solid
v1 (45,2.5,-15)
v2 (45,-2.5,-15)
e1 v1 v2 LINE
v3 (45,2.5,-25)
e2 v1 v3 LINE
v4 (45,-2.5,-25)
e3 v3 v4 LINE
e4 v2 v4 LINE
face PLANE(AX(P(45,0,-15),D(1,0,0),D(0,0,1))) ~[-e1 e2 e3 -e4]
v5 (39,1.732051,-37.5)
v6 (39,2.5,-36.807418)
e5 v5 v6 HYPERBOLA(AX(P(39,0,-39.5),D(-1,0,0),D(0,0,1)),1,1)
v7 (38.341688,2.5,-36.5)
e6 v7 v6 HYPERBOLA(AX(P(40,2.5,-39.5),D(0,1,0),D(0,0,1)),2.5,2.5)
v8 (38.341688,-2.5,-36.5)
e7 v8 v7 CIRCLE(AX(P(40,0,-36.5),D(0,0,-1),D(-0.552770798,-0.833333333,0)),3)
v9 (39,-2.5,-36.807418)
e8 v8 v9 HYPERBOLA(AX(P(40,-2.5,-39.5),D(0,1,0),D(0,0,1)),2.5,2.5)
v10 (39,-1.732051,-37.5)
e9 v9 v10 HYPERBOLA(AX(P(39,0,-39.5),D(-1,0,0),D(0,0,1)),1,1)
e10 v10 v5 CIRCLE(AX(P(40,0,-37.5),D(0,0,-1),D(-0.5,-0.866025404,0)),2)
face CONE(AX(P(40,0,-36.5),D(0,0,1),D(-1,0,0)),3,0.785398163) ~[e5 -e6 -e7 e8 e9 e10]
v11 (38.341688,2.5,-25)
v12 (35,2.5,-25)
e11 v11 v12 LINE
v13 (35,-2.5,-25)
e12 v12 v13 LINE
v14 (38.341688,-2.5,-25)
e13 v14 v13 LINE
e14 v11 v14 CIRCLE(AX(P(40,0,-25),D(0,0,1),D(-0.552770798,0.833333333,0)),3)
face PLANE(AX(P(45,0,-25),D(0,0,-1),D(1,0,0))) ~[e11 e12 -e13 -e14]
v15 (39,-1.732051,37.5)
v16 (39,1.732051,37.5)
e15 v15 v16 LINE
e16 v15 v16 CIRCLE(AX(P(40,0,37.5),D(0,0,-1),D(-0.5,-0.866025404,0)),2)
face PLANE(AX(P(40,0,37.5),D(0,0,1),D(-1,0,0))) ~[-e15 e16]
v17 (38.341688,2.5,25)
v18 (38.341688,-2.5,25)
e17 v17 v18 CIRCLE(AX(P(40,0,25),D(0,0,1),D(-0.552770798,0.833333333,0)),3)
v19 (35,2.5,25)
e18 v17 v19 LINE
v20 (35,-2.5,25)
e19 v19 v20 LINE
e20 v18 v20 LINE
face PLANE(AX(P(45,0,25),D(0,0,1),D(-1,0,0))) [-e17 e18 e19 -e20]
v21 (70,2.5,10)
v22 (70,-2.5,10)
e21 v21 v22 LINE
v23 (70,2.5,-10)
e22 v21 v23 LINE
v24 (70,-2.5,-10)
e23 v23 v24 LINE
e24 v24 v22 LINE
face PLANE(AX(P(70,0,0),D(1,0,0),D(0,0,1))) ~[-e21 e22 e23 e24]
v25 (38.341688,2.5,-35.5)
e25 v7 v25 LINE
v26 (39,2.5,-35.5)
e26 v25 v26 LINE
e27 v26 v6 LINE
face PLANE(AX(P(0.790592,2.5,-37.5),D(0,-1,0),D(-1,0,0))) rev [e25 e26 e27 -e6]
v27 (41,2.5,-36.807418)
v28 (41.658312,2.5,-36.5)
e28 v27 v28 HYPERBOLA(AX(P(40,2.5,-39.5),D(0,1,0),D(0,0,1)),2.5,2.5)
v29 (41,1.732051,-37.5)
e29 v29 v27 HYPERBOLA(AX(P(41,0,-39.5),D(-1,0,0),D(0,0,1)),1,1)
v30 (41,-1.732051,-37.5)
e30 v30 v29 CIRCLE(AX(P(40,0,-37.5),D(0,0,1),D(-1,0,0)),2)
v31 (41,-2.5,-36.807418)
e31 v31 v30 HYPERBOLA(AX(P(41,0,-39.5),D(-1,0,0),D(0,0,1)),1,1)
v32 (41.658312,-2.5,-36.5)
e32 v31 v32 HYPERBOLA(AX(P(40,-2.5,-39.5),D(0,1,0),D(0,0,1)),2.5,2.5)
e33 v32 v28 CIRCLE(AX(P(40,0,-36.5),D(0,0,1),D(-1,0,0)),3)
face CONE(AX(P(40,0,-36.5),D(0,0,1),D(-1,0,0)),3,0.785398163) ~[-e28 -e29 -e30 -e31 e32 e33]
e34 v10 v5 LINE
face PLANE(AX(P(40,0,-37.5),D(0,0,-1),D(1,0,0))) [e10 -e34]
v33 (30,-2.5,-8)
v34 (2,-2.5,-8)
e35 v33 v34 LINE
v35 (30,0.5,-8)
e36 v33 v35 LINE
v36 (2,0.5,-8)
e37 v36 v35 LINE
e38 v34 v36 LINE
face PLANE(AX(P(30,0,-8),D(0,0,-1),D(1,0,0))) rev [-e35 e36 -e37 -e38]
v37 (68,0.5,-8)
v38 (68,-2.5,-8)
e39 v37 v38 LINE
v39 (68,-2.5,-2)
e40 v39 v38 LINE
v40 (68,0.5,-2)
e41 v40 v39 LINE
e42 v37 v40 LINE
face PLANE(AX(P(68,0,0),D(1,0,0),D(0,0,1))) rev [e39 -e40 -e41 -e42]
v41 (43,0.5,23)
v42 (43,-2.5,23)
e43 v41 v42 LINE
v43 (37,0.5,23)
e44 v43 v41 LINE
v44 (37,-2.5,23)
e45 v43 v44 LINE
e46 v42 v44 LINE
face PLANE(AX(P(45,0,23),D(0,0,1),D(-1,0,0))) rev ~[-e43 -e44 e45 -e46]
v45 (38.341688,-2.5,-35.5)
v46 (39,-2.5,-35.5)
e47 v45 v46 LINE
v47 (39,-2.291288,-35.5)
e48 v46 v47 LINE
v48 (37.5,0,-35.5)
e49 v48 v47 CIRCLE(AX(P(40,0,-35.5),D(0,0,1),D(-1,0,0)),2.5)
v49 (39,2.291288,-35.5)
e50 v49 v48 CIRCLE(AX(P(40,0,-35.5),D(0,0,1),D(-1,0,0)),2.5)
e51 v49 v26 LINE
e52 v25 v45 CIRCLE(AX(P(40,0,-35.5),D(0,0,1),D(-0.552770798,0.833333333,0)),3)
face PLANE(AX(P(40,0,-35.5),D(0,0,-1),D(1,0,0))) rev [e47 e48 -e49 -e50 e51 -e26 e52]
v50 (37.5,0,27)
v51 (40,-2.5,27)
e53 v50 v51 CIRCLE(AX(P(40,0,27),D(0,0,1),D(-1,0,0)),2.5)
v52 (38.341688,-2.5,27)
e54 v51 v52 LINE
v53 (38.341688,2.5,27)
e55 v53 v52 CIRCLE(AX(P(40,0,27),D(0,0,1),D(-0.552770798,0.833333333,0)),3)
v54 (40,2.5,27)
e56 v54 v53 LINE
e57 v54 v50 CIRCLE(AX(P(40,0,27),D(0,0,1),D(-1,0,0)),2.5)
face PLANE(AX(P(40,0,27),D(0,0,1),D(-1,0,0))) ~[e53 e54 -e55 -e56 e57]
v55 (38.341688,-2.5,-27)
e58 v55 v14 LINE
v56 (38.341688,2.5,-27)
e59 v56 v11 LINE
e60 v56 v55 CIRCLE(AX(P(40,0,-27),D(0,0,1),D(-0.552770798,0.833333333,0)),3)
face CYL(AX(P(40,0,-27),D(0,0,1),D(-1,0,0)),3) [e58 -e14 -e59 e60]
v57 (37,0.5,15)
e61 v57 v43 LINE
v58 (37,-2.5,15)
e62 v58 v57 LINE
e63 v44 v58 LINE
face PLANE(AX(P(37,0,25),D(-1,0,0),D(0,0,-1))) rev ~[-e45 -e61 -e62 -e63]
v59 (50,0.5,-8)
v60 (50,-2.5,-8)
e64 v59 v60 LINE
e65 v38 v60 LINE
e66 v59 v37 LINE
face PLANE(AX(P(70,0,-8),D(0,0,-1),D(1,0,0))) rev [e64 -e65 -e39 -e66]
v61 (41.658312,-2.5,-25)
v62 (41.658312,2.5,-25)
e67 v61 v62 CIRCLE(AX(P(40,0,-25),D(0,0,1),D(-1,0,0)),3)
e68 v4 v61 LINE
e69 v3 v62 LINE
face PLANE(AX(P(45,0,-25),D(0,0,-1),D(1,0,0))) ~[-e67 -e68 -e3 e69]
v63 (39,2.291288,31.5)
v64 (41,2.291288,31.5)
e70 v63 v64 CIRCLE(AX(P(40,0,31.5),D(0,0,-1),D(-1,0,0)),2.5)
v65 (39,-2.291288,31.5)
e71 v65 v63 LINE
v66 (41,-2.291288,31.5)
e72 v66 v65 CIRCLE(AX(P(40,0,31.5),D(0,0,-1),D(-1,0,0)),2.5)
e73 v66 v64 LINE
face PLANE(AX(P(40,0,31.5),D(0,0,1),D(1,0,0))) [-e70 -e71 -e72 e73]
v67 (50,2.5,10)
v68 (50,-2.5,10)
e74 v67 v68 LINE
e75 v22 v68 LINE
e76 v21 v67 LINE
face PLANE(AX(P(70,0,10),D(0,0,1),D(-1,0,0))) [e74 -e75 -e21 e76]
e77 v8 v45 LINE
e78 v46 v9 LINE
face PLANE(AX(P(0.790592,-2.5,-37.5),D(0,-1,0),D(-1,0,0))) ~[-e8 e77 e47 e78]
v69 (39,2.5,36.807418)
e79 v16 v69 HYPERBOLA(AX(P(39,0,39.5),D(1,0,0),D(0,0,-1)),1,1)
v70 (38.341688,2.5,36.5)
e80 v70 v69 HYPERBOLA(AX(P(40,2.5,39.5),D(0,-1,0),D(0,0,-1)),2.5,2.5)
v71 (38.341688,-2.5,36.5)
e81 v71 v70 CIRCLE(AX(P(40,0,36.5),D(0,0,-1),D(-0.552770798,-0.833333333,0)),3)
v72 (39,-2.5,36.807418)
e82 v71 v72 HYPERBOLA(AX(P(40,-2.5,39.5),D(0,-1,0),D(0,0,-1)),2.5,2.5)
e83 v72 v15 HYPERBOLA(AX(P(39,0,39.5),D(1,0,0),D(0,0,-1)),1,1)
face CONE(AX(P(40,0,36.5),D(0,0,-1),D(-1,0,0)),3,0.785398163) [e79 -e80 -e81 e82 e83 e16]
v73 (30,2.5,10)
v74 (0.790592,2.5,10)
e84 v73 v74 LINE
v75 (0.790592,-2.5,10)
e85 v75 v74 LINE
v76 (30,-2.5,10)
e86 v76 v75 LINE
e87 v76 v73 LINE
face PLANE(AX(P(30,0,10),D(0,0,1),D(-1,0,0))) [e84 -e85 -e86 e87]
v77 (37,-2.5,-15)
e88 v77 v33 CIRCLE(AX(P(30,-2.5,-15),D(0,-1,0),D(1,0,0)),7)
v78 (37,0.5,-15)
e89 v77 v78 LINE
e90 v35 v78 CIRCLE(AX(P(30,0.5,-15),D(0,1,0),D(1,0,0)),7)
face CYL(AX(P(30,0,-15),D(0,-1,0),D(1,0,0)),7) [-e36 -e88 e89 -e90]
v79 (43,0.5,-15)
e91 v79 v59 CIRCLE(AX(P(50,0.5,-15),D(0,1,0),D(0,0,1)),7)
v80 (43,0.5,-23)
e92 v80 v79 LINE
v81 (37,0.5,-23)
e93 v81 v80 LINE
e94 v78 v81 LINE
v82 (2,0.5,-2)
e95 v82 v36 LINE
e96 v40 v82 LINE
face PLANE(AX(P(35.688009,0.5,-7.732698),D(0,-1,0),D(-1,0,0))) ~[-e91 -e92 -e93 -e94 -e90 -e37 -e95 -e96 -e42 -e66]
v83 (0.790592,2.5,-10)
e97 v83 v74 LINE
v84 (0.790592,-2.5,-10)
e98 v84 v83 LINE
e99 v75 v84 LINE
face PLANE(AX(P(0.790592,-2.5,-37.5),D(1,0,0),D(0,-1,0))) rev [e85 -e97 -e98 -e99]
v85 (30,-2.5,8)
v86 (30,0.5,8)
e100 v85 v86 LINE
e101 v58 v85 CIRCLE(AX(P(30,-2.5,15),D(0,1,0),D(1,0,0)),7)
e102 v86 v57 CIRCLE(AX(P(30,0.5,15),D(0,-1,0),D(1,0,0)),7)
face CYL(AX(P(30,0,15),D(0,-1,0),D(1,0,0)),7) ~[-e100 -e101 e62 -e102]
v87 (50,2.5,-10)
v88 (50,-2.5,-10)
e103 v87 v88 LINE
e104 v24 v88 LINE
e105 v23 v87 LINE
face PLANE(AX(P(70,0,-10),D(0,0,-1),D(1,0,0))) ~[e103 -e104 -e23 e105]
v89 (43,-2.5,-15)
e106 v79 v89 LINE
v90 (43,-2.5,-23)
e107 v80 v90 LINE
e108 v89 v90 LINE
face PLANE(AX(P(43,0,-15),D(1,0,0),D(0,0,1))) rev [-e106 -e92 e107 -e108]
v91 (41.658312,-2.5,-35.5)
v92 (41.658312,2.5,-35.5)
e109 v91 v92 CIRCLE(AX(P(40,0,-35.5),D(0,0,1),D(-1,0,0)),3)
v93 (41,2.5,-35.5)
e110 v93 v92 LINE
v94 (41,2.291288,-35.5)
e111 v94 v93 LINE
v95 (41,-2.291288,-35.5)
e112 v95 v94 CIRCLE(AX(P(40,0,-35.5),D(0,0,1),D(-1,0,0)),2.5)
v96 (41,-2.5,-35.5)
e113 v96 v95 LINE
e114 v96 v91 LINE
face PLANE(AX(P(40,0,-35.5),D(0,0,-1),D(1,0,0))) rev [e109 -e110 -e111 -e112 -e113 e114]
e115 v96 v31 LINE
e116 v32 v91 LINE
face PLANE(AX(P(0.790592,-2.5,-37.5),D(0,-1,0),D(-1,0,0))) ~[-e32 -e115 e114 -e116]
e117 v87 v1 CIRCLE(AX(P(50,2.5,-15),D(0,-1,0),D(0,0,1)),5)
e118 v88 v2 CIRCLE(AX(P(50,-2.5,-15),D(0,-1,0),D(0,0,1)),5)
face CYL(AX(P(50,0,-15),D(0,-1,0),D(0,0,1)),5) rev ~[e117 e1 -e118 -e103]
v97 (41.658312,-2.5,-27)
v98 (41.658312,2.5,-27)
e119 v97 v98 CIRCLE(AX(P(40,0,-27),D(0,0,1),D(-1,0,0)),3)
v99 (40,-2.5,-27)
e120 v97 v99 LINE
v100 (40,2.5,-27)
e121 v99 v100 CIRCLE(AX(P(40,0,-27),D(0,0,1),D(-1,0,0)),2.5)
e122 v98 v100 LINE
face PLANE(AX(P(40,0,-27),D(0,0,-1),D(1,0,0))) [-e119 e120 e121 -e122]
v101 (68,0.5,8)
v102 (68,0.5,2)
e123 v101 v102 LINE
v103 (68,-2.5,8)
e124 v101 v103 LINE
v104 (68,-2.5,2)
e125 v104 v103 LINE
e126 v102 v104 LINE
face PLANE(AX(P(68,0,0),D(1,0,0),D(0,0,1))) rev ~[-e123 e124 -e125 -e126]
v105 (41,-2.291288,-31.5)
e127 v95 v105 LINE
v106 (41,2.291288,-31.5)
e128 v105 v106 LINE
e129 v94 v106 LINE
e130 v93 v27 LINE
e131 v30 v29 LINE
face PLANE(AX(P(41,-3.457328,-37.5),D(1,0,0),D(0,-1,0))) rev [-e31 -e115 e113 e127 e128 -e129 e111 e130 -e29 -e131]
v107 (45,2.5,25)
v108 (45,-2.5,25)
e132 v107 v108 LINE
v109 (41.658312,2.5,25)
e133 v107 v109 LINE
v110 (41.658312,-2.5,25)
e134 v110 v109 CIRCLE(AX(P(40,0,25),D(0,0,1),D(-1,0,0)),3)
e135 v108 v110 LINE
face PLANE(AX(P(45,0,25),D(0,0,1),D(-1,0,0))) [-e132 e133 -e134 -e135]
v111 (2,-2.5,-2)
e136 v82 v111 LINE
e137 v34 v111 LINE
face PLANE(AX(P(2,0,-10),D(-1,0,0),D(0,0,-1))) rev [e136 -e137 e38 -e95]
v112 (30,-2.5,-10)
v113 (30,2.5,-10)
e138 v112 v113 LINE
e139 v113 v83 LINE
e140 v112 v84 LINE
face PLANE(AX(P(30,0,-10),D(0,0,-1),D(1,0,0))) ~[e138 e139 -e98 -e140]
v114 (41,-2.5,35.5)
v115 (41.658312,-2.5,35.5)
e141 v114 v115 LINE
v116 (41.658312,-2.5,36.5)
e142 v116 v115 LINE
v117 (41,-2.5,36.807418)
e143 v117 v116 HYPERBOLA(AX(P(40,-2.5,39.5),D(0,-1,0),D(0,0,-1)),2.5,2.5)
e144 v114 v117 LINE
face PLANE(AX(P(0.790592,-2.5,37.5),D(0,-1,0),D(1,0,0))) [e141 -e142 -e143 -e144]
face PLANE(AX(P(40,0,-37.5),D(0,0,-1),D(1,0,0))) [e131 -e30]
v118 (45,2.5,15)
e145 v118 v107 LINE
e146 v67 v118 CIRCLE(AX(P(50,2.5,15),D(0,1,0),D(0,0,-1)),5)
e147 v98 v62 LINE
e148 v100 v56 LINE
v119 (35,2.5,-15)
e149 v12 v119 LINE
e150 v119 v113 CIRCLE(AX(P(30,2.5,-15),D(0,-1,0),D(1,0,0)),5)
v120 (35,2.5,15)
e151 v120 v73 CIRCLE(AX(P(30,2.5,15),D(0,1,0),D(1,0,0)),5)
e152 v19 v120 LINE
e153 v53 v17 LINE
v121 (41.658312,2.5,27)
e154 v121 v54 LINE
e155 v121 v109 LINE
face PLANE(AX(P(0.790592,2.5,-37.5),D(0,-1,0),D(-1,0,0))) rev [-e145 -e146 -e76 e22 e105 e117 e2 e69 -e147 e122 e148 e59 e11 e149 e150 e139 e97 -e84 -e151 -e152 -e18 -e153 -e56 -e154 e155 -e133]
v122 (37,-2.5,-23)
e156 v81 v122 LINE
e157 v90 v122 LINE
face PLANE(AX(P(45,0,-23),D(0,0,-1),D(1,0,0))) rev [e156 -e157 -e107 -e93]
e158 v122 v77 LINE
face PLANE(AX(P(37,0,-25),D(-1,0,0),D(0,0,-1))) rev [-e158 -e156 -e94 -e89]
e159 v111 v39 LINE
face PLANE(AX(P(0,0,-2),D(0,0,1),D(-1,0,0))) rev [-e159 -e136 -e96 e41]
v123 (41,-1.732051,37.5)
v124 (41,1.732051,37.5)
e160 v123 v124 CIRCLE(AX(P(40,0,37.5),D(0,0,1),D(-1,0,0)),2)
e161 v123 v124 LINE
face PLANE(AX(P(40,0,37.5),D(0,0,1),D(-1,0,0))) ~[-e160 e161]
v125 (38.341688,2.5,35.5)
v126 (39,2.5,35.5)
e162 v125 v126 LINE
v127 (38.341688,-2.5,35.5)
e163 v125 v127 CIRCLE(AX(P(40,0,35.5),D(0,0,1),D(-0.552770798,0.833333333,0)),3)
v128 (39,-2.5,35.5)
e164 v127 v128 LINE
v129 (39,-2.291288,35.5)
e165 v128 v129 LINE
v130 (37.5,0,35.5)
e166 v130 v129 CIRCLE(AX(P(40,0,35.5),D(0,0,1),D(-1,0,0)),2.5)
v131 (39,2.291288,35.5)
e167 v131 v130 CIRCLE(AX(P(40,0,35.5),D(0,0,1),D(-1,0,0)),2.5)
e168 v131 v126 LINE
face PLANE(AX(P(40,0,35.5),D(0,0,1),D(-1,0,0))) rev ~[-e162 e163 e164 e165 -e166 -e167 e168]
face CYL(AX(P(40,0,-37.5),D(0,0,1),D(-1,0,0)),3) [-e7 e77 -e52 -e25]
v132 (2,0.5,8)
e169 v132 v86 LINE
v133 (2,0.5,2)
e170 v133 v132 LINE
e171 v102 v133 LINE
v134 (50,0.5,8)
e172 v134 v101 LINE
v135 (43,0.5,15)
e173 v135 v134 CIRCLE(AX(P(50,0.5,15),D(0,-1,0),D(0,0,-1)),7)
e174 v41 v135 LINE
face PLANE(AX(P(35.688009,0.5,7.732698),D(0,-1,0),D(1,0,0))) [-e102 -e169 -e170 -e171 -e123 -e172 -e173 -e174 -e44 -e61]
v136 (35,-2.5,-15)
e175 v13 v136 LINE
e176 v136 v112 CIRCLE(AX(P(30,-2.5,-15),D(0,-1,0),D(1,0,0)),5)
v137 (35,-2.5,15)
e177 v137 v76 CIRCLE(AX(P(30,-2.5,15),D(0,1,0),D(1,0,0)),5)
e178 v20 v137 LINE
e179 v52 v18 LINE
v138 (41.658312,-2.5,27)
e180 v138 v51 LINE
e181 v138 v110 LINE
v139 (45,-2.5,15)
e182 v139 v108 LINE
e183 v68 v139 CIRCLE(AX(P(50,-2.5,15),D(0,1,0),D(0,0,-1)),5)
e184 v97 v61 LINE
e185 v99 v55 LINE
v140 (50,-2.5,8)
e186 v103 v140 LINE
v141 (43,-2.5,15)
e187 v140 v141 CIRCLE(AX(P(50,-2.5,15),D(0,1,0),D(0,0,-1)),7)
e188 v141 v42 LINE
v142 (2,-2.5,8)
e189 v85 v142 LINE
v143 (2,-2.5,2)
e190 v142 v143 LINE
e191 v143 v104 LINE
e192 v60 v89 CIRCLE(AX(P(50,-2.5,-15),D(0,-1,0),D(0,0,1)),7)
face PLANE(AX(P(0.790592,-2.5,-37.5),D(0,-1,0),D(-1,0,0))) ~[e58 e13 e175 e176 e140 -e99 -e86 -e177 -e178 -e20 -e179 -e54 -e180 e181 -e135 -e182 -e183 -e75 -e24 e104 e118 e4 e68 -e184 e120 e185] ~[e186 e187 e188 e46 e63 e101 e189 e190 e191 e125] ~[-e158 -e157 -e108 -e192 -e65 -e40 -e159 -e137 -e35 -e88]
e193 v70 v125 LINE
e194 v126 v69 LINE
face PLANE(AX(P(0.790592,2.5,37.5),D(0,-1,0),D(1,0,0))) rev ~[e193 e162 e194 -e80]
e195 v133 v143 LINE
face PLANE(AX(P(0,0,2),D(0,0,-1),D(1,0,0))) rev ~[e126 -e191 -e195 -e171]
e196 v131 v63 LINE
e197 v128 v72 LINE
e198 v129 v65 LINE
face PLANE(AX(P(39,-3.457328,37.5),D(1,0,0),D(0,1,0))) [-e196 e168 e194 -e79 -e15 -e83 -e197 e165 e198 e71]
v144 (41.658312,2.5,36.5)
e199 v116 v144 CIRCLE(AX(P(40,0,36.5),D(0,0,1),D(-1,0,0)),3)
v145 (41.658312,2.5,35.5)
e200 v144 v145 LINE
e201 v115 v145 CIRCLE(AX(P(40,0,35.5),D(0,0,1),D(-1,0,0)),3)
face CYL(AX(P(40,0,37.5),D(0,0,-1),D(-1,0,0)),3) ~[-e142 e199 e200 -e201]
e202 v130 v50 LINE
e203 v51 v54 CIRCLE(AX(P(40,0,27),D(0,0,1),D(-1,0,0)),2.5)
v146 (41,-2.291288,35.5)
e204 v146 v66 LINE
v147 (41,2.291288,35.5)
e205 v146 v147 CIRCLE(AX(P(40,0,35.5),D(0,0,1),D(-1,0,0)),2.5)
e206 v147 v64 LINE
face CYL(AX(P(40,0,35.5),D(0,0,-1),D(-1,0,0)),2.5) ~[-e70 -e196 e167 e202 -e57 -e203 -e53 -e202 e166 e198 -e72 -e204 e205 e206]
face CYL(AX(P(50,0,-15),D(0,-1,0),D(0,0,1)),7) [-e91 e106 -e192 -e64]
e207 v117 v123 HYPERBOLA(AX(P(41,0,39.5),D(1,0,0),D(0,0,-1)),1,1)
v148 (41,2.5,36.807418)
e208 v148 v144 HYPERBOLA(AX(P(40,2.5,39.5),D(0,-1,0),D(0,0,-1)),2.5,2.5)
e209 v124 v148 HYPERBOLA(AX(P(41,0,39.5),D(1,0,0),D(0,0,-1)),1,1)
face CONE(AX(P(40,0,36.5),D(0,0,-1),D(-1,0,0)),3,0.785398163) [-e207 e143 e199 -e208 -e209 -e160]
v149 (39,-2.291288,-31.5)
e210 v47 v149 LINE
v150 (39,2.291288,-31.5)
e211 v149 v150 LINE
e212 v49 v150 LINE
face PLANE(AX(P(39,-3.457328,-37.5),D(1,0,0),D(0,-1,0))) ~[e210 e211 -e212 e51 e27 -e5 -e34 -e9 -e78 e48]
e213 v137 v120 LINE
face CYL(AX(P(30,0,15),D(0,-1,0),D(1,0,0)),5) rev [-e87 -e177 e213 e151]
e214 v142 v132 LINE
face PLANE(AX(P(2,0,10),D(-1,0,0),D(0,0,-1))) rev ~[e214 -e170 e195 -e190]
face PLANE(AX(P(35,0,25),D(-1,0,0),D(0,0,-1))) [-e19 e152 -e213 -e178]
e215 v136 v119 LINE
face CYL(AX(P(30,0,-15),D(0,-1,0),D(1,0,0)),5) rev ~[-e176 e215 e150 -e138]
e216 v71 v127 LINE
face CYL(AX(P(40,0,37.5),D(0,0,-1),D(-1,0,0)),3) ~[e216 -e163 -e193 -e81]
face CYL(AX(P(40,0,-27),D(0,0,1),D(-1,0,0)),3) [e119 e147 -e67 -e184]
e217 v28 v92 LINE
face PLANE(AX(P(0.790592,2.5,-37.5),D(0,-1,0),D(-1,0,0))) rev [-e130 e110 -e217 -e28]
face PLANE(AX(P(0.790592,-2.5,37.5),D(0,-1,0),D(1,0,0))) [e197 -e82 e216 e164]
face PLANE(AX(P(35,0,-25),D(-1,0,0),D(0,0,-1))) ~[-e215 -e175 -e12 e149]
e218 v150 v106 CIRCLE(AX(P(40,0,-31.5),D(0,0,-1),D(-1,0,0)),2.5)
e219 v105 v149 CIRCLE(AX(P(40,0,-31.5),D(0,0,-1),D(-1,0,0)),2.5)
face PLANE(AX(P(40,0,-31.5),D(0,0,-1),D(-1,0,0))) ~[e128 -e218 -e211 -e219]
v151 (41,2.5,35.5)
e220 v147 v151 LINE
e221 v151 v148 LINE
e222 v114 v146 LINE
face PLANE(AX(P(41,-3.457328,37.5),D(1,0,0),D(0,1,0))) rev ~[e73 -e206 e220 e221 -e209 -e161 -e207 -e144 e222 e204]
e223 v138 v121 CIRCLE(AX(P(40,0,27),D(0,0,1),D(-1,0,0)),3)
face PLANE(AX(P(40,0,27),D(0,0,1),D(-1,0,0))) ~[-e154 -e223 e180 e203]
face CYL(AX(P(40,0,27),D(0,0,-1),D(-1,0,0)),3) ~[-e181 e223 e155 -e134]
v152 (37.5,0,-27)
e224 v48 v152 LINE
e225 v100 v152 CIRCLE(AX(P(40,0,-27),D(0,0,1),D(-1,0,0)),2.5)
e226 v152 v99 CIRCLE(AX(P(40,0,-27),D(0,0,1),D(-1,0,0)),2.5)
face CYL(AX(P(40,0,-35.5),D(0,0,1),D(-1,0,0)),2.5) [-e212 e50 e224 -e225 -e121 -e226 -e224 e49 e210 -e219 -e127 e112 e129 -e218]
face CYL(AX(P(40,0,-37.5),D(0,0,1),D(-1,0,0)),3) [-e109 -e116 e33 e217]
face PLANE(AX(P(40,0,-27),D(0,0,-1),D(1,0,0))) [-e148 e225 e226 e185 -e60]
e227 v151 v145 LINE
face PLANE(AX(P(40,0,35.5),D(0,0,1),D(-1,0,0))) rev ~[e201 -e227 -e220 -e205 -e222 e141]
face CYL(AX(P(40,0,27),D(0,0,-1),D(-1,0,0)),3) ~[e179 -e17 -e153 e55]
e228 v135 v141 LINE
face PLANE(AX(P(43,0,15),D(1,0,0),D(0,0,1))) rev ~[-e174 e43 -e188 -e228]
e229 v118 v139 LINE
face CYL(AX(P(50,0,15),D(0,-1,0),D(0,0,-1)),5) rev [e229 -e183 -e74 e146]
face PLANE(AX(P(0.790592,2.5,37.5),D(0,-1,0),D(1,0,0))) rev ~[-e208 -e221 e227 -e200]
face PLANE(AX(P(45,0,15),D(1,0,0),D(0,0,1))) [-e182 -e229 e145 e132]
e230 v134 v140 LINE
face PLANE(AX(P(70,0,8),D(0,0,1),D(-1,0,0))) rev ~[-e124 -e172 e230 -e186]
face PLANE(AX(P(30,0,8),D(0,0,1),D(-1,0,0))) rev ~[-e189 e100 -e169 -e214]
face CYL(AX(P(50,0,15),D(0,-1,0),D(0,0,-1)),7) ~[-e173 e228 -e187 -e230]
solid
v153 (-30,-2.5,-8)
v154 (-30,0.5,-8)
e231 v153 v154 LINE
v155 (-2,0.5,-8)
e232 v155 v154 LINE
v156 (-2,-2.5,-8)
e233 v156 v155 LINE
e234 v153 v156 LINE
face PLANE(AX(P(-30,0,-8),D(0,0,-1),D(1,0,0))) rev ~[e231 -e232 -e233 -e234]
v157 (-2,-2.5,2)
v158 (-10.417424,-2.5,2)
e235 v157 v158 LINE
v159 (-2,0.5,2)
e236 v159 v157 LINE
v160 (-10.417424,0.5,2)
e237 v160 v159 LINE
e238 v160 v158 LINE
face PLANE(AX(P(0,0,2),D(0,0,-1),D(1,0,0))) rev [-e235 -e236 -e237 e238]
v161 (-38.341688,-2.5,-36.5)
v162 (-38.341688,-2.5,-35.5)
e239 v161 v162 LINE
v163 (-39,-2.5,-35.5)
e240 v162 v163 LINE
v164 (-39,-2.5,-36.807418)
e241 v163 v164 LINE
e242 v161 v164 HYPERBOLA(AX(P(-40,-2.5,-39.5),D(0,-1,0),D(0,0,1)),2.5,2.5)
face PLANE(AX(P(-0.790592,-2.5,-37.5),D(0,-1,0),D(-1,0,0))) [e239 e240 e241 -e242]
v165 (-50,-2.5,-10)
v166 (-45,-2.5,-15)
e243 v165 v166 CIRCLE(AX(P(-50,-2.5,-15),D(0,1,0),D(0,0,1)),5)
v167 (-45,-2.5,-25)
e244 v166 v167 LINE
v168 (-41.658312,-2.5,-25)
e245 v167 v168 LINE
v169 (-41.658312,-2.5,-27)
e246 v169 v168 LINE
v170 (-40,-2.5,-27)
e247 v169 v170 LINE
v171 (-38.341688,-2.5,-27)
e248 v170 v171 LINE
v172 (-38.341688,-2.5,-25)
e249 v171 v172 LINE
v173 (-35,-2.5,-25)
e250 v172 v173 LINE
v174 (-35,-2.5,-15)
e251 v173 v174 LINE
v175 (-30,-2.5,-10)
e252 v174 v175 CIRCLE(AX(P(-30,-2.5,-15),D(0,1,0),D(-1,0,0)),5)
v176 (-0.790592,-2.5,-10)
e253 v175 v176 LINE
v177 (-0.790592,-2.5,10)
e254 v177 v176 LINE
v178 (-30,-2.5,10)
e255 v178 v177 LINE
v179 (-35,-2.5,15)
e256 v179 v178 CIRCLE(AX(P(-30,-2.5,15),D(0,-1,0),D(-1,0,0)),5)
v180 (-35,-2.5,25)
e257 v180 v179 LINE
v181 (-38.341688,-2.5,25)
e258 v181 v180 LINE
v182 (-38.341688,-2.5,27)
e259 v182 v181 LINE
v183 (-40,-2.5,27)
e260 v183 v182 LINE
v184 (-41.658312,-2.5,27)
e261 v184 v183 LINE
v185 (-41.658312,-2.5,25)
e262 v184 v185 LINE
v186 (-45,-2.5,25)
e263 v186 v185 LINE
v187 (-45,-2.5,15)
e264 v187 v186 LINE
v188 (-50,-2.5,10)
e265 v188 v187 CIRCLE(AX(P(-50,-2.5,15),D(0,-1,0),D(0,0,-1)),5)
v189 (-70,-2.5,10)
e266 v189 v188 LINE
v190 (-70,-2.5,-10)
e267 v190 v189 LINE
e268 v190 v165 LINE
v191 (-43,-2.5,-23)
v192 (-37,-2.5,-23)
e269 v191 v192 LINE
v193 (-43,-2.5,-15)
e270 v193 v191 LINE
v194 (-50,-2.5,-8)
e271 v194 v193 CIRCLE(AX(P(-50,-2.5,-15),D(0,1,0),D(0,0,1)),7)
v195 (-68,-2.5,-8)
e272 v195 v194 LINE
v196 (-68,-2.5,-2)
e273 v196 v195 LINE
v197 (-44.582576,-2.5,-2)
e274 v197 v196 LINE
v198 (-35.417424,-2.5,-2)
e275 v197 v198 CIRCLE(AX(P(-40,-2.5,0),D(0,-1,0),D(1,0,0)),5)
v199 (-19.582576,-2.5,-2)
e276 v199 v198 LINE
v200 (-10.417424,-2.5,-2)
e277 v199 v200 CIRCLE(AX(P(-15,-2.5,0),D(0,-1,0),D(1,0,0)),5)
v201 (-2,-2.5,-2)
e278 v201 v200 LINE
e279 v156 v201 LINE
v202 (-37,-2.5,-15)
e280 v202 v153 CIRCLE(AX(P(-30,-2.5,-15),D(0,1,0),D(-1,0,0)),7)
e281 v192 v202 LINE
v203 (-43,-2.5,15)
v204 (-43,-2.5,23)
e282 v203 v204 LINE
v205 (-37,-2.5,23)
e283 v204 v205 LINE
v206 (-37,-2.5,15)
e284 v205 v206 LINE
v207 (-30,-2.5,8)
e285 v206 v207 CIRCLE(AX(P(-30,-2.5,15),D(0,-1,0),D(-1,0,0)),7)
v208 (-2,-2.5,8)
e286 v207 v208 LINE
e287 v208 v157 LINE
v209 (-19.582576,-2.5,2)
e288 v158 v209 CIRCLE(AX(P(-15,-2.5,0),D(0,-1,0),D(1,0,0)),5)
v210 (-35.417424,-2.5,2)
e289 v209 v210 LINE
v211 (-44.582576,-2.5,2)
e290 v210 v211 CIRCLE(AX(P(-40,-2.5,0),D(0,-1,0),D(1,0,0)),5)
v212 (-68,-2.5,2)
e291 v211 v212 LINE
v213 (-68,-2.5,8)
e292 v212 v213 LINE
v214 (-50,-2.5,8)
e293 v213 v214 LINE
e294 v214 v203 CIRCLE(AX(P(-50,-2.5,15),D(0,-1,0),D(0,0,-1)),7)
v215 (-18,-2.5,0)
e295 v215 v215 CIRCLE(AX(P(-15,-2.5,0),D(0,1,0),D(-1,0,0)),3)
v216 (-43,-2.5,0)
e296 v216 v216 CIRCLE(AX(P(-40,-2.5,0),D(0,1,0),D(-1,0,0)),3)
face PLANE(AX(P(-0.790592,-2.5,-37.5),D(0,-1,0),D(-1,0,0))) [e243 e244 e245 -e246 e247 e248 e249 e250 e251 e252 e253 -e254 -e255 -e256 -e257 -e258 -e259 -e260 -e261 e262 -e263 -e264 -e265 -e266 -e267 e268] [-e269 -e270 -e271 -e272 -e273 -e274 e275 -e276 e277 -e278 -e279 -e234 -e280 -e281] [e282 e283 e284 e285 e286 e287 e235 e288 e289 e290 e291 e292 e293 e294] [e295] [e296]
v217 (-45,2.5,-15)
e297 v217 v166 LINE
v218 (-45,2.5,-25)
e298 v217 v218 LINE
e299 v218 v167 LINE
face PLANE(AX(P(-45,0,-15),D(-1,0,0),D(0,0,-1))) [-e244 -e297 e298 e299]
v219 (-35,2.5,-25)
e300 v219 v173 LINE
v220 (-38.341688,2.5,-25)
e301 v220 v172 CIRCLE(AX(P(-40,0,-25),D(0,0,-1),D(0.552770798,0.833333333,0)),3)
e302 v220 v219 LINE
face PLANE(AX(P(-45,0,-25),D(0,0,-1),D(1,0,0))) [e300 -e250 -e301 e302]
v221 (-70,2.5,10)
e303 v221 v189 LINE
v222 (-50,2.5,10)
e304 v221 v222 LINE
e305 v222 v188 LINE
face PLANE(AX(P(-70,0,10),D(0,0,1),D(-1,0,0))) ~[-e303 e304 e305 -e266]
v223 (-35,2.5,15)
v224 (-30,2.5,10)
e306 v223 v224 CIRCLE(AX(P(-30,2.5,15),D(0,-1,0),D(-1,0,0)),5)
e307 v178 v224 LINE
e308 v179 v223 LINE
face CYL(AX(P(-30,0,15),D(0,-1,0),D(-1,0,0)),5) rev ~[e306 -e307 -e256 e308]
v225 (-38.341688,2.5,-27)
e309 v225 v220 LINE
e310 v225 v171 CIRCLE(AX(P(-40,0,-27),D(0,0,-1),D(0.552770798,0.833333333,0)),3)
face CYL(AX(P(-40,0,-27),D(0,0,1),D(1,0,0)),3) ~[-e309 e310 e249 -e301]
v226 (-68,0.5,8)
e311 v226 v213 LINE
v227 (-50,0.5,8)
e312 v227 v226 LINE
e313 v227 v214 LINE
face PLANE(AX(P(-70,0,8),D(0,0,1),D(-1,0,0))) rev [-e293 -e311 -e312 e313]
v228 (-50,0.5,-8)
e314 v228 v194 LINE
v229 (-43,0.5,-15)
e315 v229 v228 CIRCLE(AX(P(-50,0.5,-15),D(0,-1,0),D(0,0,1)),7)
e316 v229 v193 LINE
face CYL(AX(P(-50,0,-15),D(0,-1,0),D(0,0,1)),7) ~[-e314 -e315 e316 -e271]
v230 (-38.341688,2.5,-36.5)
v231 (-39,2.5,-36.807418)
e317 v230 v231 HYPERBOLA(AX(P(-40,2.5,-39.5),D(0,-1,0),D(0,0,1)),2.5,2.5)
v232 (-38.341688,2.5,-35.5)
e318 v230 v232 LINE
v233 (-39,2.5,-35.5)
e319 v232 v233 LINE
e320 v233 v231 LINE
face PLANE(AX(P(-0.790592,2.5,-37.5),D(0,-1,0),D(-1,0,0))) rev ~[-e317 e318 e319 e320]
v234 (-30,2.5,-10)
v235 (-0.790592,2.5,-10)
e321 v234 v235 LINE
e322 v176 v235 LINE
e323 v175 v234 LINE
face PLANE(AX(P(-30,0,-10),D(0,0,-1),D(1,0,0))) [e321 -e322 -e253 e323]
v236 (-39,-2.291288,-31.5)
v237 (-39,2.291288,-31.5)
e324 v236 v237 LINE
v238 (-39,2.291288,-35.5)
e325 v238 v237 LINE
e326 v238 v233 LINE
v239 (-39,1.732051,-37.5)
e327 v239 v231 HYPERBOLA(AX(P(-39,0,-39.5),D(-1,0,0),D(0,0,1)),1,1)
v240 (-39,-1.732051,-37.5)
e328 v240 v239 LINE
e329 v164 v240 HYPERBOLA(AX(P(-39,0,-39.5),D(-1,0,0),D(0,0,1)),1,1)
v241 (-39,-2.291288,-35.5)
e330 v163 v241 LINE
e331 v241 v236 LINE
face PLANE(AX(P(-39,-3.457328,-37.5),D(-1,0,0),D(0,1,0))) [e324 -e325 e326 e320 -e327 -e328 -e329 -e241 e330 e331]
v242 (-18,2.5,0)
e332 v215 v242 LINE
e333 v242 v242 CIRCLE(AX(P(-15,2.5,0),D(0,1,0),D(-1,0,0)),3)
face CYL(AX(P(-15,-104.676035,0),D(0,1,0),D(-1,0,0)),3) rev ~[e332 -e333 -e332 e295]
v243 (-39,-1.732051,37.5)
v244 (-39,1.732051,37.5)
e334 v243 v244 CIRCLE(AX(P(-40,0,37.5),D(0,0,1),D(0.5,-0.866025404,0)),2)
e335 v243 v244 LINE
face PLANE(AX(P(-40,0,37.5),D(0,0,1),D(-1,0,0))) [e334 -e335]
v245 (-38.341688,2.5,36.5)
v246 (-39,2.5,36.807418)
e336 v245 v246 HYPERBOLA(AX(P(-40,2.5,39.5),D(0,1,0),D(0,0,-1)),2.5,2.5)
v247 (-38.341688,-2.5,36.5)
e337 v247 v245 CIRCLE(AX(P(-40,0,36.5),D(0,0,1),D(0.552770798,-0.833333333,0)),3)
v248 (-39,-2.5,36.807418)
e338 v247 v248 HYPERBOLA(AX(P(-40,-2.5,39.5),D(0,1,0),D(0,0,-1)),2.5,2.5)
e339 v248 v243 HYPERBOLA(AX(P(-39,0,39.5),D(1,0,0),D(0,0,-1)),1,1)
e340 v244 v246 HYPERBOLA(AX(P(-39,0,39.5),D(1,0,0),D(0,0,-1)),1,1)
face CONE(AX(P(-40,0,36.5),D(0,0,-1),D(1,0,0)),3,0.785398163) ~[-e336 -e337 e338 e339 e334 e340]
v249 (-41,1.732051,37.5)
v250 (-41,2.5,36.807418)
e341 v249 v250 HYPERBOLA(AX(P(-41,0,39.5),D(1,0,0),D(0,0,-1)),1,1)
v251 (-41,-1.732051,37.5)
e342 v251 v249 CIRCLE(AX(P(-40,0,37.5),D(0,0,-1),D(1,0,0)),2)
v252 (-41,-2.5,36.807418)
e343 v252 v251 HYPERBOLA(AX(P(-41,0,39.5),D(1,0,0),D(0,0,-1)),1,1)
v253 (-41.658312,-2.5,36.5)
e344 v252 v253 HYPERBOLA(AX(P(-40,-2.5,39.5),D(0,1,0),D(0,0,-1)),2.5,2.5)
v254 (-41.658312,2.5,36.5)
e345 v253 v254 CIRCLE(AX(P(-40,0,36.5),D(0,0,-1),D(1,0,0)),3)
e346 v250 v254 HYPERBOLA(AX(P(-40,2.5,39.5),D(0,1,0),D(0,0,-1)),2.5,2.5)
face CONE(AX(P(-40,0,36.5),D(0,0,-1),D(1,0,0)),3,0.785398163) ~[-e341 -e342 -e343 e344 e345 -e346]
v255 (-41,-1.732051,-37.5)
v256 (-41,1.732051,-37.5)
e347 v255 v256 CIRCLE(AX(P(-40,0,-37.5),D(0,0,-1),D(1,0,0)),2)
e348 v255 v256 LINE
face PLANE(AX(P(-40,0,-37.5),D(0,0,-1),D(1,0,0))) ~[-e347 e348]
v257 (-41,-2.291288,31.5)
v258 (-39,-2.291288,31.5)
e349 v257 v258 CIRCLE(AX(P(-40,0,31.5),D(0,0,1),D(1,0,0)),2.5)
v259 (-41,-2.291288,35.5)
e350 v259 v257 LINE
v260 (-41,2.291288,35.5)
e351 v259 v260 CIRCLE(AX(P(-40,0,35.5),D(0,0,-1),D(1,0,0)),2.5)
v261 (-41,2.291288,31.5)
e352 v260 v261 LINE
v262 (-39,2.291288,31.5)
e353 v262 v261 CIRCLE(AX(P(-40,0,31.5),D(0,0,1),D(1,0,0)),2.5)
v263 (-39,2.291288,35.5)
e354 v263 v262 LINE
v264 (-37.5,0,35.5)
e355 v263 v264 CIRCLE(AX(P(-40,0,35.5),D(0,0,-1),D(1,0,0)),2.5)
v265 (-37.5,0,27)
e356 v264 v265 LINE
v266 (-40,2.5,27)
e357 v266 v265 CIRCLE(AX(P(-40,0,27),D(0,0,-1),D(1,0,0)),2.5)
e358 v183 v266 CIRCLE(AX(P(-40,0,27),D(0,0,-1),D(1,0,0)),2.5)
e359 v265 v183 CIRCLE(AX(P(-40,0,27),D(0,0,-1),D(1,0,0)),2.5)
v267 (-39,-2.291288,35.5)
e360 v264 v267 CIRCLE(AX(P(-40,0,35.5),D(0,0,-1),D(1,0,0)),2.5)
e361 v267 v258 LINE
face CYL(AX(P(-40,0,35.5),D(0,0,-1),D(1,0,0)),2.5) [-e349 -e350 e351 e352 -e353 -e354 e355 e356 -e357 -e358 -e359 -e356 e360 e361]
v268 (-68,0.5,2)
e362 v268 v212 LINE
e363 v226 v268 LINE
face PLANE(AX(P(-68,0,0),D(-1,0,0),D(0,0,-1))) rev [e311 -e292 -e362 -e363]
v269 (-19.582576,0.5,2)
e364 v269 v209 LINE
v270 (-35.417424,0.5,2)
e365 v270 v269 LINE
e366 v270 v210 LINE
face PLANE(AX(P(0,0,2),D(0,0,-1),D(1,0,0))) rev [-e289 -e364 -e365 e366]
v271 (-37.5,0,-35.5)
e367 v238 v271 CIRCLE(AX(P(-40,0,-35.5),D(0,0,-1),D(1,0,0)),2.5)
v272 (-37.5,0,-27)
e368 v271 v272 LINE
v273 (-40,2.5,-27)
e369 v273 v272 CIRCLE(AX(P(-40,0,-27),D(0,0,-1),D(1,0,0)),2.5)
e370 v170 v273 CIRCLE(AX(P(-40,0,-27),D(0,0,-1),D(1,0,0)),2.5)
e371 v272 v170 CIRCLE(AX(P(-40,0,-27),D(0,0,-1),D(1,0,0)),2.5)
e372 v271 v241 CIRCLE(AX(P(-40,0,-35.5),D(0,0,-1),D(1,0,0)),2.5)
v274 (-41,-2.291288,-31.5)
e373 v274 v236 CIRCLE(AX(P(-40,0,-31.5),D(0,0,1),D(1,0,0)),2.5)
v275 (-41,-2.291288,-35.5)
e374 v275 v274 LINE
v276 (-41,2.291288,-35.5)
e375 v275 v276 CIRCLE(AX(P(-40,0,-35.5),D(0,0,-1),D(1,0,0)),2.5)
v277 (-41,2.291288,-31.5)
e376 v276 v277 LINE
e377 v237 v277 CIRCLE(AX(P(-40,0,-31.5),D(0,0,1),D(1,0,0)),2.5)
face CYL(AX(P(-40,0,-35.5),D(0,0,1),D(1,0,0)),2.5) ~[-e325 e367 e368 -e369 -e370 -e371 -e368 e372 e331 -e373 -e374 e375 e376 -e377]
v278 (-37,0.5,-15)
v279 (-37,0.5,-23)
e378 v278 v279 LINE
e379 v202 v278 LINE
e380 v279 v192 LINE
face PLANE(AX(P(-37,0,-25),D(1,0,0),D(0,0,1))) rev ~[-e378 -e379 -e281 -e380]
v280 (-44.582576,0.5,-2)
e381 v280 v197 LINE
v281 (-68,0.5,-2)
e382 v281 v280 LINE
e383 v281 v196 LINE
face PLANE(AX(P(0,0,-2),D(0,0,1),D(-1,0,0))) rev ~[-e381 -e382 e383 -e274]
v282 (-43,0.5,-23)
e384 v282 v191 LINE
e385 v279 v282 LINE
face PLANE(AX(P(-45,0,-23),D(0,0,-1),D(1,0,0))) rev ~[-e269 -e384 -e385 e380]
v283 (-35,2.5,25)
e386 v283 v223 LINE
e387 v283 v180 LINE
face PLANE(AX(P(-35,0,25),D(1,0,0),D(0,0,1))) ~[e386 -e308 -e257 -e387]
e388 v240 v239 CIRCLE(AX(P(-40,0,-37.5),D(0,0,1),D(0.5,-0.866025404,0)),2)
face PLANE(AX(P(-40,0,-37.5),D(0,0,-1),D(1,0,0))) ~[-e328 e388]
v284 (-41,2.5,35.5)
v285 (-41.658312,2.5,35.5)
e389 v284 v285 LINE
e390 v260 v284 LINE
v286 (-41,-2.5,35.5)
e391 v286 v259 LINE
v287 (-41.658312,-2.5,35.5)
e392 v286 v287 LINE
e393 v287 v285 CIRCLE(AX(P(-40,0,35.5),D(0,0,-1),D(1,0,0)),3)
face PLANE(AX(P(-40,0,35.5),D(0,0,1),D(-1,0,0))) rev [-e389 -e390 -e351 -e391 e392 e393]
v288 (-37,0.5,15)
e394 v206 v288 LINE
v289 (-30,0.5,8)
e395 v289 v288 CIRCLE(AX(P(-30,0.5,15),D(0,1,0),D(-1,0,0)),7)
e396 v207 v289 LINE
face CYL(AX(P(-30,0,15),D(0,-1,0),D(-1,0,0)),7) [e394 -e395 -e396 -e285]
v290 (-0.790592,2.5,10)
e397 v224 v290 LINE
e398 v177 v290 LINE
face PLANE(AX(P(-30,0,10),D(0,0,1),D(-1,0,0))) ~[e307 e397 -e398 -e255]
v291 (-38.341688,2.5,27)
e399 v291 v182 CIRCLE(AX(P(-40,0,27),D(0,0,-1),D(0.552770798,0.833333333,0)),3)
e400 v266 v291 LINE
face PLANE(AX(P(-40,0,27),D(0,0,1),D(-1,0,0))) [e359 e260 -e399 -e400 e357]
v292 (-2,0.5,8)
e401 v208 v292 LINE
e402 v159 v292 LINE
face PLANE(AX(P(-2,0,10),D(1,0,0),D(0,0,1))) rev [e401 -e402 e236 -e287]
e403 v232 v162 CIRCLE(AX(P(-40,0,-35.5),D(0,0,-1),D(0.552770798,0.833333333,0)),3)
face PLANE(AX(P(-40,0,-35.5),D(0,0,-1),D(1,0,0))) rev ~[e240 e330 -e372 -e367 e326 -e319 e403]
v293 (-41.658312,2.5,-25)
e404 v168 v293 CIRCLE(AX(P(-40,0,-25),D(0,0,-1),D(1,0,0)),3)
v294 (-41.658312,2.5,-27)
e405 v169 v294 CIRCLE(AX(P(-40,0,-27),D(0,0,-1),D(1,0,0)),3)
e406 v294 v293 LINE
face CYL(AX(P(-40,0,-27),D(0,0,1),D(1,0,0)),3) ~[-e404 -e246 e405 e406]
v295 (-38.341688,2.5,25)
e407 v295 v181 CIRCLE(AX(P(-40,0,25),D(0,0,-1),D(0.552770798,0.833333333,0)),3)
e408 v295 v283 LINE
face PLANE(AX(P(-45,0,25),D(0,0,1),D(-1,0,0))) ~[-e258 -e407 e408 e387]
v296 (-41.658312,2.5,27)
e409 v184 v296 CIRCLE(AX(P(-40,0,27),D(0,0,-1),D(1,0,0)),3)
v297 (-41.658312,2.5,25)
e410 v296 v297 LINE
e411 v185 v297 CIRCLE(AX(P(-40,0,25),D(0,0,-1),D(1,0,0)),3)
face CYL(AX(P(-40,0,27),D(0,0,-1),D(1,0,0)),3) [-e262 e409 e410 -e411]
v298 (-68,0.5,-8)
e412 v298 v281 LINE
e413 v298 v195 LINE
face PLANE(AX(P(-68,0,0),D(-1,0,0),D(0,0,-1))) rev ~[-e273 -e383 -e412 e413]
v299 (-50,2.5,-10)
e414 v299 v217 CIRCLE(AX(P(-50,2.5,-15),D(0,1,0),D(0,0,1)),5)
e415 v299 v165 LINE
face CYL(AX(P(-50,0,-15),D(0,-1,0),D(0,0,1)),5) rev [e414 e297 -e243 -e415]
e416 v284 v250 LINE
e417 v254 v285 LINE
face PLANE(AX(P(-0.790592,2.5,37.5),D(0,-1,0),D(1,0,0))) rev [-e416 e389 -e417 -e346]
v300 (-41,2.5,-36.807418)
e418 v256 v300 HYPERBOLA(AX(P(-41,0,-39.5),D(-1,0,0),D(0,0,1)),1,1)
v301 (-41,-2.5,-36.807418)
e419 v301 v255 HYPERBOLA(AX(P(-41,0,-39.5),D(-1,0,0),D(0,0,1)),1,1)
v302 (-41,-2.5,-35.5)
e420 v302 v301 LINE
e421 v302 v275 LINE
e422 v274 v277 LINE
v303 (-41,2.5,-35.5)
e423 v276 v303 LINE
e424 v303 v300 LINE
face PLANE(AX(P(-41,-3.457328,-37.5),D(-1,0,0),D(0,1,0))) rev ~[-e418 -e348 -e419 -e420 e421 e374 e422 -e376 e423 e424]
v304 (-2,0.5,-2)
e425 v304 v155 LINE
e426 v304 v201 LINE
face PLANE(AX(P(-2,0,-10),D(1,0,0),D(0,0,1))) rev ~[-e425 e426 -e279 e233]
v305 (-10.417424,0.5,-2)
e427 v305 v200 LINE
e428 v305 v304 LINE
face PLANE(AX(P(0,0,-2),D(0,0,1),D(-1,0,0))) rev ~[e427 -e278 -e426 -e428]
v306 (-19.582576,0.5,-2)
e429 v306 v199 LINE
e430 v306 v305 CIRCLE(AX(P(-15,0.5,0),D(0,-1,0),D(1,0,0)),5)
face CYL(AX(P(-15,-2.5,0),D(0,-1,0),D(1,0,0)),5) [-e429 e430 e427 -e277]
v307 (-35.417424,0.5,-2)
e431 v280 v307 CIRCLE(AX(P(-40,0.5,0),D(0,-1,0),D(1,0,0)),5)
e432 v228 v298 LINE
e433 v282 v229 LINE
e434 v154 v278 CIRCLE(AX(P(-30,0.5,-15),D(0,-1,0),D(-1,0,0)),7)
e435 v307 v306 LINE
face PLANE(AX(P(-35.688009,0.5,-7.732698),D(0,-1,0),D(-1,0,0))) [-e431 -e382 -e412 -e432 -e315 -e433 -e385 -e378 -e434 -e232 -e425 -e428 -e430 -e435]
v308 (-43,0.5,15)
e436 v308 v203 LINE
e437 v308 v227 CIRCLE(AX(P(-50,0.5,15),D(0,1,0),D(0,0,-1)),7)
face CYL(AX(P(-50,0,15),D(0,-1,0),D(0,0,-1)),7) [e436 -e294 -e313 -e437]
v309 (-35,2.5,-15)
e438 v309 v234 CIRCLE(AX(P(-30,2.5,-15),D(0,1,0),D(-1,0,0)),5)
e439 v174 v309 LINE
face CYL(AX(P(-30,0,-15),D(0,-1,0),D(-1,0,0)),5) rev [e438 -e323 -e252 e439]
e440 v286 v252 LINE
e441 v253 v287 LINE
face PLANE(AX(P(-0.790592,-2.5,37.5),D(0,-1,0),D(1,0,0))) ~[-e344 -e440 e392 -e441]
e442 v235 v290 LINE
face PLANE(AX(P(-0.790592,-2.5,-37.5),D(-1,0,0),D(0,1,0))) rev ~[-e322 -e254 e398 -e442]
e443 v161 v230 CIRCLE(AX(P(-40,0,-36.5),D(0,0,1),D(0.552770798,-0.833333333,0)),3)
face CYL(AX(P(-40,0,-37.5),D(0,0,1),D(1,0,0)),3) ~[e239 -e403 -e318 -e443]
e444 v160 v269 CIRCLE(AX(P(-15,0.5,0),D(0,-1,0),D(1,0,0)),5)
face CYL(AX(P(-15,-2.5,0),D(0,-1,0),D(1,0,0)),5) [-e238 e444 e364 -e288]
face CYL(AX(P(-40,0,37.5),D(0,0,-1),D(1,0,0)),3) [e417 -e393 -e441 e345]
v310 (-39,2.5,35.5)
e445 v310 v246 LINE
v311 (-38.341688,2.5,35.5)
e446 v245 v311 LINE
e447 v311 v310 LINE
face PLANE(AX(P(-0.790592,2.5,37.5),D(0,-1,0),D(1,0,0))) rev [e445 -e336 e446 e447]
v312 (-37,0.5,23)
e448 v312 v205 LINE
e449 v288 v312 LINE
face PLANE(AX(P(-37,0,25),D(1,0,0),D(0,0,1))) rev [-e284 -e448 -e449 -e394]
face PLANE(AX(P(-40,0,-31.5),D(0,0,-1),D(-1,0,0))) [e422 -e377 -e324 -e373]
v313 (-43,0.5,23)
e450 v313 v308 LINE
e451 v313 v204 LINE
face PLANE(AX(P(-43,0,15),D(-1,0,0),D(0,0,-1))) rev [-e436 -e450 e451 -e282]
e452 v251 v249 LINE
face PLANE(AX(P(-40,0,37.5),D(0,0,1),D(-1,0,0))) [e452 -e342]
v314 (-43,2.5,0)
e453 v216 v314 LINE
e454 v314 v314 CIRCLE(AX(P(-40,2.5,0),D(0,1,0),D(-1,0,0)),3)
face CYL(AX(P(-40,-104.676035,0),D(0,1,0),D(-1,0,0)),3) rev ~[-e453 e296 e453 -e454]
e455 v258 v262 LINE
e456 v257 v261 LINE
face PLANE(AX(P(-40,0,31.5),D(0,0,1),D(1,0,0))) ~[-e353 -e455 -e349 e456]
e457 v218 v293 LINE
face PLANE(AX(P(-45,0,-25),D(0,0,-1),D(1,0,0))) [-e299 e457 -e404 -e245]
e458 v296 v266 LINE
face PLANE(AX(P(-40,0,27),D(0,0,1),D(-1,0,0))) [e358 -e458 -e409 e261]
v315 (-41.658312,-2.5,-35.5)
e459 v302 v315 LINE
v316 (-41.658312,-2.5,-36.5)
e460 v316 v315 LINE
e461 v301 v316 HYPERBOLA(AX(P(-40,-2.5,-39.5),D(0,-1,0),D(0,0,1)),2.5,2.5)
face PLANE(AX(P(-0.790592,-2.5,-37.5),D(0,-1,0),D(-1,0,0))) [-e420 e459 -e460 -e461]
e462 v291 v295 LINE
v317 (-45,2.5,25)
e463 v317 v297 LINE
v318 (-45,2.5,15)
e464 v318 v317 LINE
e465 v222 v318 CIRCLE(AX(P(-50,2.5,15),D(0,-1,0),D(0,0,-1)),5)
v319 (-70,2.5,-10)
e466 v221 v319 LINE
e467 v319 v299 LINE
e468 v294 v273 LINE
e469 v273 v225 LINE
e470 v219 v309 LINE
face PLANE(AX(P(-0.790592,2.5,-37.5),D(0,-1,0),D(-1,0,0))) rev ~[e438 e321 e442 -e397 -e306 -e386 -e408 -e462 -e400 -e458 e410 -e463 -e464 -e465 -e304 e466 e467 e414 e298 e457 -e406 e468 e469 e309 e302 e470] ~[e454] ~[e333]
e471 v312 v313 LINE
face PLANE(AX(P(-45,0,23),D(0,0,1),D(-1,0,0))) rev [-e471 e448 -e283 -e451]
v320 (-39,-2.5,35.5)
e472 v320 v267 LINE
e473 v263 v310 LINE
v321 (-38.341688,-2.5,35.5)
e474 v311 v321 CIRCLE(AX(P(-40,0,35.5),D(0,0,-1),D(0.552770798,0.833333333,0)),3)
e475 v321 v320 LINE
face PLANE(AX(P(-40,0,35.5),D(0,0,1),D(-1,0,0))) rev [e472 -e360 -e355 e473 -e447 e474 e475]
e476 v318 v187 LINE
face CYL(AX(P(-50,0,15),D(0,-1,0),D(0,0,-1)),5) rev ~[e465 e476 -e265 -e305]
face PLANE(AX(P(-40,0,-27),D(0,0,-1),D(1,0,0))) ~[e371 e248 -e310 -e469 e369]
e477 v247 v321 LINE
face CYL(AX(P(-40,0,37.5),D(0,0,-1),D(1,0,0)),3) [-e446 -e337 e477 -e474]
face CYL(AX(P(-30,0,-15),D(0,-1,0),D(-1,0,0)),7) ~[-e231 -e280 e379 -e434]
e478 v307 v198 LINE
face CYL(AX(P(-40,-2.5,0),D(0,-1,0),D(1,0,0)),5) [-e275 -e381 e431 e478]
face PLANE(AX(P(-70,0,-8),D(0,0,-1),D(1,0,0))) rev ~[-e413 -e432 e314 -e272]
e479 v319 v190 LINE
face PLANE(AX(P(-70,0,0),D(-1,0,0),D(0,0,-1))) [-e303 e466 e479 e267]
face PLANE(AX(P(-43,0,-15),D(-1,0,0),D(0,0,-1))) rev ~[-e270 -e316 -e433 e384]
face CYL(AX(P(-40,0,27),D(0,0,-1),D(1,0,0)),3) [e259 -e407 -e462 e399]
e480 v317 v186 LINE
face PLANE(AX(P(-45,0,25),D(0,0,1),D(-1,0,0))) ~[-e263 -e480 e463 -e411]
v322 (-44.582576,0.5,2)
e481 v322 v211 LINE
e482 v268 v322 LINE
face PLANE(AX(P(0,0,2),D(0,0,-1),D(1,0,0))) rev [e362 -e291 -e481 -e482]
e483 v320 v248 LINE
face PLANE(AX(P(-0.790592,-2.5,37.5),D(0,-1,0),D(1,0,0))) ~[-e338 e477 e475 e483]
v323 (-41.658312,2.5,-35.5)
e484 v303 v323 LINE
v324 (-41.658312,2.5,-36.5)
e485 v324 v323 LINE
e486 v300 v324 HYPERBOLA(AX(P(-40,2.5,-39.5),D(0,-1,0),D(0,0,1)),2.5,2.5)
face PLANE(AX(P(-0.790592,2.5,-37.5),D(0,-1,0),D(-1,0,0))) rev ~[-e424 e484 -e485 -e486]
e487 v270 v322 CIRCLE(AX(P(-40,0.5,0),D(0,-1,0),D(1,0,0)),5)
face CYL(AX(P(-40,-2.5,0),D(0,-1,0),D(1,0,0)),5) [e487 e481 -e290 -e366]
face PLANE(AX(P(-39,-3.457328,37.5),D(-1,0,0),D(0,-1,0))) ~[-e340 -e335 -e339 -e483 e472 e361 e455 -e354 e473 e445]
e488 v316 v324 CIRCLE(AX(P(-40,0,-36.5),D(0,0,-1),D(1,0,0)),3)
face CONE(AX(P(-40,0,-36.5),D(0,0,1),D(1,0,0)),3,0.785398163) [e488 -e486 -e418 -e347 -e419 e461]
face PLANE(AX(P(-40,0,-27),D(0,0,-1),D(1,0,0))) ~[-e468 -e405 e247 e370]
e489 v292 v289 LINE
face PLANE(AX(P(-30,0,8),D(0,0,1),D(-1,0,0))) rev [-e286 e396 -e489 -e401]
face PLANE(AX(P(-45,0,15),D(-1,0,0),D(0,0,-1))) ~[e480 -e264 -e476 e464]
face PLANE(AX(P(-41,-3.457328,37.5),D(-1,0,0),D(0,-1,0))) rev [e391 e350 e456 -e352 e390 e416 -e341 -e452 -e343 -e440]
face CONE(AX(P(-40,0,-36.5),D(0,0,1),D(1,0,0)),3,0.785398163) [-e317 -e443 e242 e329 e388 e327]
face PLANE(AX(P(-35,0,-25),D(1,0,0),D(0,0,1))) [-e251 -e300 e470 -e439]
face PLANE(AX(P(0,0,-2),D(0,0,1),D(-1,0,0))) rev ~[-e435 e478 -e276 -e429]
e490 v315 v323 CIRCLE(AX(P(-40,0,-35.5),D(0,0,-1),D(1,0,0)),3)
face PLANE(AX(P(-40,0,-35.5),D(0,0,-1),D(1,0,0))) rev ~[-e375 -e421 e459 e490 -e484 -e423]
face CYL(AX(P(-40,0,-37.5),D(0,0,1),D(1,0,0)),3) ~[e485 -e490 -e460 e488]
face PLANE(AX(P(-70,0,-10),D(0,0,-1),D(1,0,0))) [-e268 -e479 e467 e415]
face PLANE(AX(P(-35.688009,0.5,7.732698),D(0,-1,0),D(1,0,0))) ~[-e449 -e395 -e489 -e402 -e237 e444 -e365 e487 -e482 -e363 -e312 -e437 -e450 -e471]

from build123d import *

# Parameters (mm, degrees)
F1_DEPTH  = 2.5
F2_T      = -2
F5_SIZE   = 1
F6_W      = 78.4188154038
F6_H      = 5
F7_DEPTH  = 37.501
F8_W      = 2
F8_H      = 6.9146552976
F9_DEPTH  = 6
F12_R     = 5
F13_DEPTH = 5
F15_D     = 6


with BuildPart() as f1:
    # F0 (on Front) → F1 (new body, symmetric)
    with BuildSketch(Plane.XZ):
        with BuildLine():
            Line((0, 10), (0, 0))
            Line((0, 0), (70, 0))
            Line((70, 0), (70, 10))
            Line((70, 10), (50, 10))
            ThreePointArc((50, 10), (46.4644660941, 11.4644660941), (45, 15))
            Line((45, 15), (45, 25))
            Line((45, 25), (35, 25))
            Line((35, 25), (35, 15))
            ThreePointArc((35, 15), (33.5355339059, 11.4644660941), (30, 10))
            Line((30, 10), (0, 10))
        make_face()
    extrude(amount=F1_DEPTH, both=True)

    # F2
    f2_openings = [f1.faces().sort_by_distance(p)[0] for p in [
        (35.933685, -2.5, 7.254637),
    ]]
    offset(amount=F2_T, openings=f2_openings)

    # F3 (on Front) → F4 (revolve)
    with BuildSketch(Plane.XZ):
        Polygon((37, 27), (37, 25), (40, 25), (40, 37.5), (37, 37.5), (37, 35.5), (37.5, 35.5), (37.5, 27), align=None)
    revolve(axis=Axis((40, 0, 31.25), (0, 0, 1)))

    # F5
    f5_edges = [f1.edges().sort_by_distance(p)[0] for p in [
        (43, 0, 37.5),
    ]]
    chamfer(f5_edges, length=F5_SIZE)

    # F6 (on face) → F7 (intersect, through all)
    with BuildSketch(Plane.XY.offset(37.5)):
        with Locations((40, 0)):
            Rectangle(F6_W, F6_H)
    extrude(amount=-F7_DEPTH, mode=Mode.INTERSECT)

    # F8 (on face) → F9 (cut)
    with BuildSketch(Plane.XY.offset(37.5)):
        with Locations((40, 0)):
            Rectangle(F8_W, F8_H)
    extrude(amount=-F9_DEPTH, mode=Mode.SUBTRACT)

    # F10: F1 across plane


with BuildPart() as f1_1:
    add(f1.part)
    add(f1.part.mirror(Plane.XY))


with BuildPart() as f11_1:
    # F11: instance of F1
    add(f1_1.part.mirror(Plane.YZ))

    # F12 (on face) → F13 (join, through all)
    with BuildSketch(Plane.XZ.offset(2.5)):
        with Locations((-40, 0)):
            Circle(F12_R)
        with Locations((-15, 0)):
            Circle(F12_R)
    extrude(amount=-F13_DEPTH)

    # F15 (through all)
    with Locations(Plane.XZ.offset(2.5)):
        with Locations((-40, 0), (-15, 0)):
            Hole(F15_D / 2)


solid = Compound([f1_1.part, f11_1.part])
